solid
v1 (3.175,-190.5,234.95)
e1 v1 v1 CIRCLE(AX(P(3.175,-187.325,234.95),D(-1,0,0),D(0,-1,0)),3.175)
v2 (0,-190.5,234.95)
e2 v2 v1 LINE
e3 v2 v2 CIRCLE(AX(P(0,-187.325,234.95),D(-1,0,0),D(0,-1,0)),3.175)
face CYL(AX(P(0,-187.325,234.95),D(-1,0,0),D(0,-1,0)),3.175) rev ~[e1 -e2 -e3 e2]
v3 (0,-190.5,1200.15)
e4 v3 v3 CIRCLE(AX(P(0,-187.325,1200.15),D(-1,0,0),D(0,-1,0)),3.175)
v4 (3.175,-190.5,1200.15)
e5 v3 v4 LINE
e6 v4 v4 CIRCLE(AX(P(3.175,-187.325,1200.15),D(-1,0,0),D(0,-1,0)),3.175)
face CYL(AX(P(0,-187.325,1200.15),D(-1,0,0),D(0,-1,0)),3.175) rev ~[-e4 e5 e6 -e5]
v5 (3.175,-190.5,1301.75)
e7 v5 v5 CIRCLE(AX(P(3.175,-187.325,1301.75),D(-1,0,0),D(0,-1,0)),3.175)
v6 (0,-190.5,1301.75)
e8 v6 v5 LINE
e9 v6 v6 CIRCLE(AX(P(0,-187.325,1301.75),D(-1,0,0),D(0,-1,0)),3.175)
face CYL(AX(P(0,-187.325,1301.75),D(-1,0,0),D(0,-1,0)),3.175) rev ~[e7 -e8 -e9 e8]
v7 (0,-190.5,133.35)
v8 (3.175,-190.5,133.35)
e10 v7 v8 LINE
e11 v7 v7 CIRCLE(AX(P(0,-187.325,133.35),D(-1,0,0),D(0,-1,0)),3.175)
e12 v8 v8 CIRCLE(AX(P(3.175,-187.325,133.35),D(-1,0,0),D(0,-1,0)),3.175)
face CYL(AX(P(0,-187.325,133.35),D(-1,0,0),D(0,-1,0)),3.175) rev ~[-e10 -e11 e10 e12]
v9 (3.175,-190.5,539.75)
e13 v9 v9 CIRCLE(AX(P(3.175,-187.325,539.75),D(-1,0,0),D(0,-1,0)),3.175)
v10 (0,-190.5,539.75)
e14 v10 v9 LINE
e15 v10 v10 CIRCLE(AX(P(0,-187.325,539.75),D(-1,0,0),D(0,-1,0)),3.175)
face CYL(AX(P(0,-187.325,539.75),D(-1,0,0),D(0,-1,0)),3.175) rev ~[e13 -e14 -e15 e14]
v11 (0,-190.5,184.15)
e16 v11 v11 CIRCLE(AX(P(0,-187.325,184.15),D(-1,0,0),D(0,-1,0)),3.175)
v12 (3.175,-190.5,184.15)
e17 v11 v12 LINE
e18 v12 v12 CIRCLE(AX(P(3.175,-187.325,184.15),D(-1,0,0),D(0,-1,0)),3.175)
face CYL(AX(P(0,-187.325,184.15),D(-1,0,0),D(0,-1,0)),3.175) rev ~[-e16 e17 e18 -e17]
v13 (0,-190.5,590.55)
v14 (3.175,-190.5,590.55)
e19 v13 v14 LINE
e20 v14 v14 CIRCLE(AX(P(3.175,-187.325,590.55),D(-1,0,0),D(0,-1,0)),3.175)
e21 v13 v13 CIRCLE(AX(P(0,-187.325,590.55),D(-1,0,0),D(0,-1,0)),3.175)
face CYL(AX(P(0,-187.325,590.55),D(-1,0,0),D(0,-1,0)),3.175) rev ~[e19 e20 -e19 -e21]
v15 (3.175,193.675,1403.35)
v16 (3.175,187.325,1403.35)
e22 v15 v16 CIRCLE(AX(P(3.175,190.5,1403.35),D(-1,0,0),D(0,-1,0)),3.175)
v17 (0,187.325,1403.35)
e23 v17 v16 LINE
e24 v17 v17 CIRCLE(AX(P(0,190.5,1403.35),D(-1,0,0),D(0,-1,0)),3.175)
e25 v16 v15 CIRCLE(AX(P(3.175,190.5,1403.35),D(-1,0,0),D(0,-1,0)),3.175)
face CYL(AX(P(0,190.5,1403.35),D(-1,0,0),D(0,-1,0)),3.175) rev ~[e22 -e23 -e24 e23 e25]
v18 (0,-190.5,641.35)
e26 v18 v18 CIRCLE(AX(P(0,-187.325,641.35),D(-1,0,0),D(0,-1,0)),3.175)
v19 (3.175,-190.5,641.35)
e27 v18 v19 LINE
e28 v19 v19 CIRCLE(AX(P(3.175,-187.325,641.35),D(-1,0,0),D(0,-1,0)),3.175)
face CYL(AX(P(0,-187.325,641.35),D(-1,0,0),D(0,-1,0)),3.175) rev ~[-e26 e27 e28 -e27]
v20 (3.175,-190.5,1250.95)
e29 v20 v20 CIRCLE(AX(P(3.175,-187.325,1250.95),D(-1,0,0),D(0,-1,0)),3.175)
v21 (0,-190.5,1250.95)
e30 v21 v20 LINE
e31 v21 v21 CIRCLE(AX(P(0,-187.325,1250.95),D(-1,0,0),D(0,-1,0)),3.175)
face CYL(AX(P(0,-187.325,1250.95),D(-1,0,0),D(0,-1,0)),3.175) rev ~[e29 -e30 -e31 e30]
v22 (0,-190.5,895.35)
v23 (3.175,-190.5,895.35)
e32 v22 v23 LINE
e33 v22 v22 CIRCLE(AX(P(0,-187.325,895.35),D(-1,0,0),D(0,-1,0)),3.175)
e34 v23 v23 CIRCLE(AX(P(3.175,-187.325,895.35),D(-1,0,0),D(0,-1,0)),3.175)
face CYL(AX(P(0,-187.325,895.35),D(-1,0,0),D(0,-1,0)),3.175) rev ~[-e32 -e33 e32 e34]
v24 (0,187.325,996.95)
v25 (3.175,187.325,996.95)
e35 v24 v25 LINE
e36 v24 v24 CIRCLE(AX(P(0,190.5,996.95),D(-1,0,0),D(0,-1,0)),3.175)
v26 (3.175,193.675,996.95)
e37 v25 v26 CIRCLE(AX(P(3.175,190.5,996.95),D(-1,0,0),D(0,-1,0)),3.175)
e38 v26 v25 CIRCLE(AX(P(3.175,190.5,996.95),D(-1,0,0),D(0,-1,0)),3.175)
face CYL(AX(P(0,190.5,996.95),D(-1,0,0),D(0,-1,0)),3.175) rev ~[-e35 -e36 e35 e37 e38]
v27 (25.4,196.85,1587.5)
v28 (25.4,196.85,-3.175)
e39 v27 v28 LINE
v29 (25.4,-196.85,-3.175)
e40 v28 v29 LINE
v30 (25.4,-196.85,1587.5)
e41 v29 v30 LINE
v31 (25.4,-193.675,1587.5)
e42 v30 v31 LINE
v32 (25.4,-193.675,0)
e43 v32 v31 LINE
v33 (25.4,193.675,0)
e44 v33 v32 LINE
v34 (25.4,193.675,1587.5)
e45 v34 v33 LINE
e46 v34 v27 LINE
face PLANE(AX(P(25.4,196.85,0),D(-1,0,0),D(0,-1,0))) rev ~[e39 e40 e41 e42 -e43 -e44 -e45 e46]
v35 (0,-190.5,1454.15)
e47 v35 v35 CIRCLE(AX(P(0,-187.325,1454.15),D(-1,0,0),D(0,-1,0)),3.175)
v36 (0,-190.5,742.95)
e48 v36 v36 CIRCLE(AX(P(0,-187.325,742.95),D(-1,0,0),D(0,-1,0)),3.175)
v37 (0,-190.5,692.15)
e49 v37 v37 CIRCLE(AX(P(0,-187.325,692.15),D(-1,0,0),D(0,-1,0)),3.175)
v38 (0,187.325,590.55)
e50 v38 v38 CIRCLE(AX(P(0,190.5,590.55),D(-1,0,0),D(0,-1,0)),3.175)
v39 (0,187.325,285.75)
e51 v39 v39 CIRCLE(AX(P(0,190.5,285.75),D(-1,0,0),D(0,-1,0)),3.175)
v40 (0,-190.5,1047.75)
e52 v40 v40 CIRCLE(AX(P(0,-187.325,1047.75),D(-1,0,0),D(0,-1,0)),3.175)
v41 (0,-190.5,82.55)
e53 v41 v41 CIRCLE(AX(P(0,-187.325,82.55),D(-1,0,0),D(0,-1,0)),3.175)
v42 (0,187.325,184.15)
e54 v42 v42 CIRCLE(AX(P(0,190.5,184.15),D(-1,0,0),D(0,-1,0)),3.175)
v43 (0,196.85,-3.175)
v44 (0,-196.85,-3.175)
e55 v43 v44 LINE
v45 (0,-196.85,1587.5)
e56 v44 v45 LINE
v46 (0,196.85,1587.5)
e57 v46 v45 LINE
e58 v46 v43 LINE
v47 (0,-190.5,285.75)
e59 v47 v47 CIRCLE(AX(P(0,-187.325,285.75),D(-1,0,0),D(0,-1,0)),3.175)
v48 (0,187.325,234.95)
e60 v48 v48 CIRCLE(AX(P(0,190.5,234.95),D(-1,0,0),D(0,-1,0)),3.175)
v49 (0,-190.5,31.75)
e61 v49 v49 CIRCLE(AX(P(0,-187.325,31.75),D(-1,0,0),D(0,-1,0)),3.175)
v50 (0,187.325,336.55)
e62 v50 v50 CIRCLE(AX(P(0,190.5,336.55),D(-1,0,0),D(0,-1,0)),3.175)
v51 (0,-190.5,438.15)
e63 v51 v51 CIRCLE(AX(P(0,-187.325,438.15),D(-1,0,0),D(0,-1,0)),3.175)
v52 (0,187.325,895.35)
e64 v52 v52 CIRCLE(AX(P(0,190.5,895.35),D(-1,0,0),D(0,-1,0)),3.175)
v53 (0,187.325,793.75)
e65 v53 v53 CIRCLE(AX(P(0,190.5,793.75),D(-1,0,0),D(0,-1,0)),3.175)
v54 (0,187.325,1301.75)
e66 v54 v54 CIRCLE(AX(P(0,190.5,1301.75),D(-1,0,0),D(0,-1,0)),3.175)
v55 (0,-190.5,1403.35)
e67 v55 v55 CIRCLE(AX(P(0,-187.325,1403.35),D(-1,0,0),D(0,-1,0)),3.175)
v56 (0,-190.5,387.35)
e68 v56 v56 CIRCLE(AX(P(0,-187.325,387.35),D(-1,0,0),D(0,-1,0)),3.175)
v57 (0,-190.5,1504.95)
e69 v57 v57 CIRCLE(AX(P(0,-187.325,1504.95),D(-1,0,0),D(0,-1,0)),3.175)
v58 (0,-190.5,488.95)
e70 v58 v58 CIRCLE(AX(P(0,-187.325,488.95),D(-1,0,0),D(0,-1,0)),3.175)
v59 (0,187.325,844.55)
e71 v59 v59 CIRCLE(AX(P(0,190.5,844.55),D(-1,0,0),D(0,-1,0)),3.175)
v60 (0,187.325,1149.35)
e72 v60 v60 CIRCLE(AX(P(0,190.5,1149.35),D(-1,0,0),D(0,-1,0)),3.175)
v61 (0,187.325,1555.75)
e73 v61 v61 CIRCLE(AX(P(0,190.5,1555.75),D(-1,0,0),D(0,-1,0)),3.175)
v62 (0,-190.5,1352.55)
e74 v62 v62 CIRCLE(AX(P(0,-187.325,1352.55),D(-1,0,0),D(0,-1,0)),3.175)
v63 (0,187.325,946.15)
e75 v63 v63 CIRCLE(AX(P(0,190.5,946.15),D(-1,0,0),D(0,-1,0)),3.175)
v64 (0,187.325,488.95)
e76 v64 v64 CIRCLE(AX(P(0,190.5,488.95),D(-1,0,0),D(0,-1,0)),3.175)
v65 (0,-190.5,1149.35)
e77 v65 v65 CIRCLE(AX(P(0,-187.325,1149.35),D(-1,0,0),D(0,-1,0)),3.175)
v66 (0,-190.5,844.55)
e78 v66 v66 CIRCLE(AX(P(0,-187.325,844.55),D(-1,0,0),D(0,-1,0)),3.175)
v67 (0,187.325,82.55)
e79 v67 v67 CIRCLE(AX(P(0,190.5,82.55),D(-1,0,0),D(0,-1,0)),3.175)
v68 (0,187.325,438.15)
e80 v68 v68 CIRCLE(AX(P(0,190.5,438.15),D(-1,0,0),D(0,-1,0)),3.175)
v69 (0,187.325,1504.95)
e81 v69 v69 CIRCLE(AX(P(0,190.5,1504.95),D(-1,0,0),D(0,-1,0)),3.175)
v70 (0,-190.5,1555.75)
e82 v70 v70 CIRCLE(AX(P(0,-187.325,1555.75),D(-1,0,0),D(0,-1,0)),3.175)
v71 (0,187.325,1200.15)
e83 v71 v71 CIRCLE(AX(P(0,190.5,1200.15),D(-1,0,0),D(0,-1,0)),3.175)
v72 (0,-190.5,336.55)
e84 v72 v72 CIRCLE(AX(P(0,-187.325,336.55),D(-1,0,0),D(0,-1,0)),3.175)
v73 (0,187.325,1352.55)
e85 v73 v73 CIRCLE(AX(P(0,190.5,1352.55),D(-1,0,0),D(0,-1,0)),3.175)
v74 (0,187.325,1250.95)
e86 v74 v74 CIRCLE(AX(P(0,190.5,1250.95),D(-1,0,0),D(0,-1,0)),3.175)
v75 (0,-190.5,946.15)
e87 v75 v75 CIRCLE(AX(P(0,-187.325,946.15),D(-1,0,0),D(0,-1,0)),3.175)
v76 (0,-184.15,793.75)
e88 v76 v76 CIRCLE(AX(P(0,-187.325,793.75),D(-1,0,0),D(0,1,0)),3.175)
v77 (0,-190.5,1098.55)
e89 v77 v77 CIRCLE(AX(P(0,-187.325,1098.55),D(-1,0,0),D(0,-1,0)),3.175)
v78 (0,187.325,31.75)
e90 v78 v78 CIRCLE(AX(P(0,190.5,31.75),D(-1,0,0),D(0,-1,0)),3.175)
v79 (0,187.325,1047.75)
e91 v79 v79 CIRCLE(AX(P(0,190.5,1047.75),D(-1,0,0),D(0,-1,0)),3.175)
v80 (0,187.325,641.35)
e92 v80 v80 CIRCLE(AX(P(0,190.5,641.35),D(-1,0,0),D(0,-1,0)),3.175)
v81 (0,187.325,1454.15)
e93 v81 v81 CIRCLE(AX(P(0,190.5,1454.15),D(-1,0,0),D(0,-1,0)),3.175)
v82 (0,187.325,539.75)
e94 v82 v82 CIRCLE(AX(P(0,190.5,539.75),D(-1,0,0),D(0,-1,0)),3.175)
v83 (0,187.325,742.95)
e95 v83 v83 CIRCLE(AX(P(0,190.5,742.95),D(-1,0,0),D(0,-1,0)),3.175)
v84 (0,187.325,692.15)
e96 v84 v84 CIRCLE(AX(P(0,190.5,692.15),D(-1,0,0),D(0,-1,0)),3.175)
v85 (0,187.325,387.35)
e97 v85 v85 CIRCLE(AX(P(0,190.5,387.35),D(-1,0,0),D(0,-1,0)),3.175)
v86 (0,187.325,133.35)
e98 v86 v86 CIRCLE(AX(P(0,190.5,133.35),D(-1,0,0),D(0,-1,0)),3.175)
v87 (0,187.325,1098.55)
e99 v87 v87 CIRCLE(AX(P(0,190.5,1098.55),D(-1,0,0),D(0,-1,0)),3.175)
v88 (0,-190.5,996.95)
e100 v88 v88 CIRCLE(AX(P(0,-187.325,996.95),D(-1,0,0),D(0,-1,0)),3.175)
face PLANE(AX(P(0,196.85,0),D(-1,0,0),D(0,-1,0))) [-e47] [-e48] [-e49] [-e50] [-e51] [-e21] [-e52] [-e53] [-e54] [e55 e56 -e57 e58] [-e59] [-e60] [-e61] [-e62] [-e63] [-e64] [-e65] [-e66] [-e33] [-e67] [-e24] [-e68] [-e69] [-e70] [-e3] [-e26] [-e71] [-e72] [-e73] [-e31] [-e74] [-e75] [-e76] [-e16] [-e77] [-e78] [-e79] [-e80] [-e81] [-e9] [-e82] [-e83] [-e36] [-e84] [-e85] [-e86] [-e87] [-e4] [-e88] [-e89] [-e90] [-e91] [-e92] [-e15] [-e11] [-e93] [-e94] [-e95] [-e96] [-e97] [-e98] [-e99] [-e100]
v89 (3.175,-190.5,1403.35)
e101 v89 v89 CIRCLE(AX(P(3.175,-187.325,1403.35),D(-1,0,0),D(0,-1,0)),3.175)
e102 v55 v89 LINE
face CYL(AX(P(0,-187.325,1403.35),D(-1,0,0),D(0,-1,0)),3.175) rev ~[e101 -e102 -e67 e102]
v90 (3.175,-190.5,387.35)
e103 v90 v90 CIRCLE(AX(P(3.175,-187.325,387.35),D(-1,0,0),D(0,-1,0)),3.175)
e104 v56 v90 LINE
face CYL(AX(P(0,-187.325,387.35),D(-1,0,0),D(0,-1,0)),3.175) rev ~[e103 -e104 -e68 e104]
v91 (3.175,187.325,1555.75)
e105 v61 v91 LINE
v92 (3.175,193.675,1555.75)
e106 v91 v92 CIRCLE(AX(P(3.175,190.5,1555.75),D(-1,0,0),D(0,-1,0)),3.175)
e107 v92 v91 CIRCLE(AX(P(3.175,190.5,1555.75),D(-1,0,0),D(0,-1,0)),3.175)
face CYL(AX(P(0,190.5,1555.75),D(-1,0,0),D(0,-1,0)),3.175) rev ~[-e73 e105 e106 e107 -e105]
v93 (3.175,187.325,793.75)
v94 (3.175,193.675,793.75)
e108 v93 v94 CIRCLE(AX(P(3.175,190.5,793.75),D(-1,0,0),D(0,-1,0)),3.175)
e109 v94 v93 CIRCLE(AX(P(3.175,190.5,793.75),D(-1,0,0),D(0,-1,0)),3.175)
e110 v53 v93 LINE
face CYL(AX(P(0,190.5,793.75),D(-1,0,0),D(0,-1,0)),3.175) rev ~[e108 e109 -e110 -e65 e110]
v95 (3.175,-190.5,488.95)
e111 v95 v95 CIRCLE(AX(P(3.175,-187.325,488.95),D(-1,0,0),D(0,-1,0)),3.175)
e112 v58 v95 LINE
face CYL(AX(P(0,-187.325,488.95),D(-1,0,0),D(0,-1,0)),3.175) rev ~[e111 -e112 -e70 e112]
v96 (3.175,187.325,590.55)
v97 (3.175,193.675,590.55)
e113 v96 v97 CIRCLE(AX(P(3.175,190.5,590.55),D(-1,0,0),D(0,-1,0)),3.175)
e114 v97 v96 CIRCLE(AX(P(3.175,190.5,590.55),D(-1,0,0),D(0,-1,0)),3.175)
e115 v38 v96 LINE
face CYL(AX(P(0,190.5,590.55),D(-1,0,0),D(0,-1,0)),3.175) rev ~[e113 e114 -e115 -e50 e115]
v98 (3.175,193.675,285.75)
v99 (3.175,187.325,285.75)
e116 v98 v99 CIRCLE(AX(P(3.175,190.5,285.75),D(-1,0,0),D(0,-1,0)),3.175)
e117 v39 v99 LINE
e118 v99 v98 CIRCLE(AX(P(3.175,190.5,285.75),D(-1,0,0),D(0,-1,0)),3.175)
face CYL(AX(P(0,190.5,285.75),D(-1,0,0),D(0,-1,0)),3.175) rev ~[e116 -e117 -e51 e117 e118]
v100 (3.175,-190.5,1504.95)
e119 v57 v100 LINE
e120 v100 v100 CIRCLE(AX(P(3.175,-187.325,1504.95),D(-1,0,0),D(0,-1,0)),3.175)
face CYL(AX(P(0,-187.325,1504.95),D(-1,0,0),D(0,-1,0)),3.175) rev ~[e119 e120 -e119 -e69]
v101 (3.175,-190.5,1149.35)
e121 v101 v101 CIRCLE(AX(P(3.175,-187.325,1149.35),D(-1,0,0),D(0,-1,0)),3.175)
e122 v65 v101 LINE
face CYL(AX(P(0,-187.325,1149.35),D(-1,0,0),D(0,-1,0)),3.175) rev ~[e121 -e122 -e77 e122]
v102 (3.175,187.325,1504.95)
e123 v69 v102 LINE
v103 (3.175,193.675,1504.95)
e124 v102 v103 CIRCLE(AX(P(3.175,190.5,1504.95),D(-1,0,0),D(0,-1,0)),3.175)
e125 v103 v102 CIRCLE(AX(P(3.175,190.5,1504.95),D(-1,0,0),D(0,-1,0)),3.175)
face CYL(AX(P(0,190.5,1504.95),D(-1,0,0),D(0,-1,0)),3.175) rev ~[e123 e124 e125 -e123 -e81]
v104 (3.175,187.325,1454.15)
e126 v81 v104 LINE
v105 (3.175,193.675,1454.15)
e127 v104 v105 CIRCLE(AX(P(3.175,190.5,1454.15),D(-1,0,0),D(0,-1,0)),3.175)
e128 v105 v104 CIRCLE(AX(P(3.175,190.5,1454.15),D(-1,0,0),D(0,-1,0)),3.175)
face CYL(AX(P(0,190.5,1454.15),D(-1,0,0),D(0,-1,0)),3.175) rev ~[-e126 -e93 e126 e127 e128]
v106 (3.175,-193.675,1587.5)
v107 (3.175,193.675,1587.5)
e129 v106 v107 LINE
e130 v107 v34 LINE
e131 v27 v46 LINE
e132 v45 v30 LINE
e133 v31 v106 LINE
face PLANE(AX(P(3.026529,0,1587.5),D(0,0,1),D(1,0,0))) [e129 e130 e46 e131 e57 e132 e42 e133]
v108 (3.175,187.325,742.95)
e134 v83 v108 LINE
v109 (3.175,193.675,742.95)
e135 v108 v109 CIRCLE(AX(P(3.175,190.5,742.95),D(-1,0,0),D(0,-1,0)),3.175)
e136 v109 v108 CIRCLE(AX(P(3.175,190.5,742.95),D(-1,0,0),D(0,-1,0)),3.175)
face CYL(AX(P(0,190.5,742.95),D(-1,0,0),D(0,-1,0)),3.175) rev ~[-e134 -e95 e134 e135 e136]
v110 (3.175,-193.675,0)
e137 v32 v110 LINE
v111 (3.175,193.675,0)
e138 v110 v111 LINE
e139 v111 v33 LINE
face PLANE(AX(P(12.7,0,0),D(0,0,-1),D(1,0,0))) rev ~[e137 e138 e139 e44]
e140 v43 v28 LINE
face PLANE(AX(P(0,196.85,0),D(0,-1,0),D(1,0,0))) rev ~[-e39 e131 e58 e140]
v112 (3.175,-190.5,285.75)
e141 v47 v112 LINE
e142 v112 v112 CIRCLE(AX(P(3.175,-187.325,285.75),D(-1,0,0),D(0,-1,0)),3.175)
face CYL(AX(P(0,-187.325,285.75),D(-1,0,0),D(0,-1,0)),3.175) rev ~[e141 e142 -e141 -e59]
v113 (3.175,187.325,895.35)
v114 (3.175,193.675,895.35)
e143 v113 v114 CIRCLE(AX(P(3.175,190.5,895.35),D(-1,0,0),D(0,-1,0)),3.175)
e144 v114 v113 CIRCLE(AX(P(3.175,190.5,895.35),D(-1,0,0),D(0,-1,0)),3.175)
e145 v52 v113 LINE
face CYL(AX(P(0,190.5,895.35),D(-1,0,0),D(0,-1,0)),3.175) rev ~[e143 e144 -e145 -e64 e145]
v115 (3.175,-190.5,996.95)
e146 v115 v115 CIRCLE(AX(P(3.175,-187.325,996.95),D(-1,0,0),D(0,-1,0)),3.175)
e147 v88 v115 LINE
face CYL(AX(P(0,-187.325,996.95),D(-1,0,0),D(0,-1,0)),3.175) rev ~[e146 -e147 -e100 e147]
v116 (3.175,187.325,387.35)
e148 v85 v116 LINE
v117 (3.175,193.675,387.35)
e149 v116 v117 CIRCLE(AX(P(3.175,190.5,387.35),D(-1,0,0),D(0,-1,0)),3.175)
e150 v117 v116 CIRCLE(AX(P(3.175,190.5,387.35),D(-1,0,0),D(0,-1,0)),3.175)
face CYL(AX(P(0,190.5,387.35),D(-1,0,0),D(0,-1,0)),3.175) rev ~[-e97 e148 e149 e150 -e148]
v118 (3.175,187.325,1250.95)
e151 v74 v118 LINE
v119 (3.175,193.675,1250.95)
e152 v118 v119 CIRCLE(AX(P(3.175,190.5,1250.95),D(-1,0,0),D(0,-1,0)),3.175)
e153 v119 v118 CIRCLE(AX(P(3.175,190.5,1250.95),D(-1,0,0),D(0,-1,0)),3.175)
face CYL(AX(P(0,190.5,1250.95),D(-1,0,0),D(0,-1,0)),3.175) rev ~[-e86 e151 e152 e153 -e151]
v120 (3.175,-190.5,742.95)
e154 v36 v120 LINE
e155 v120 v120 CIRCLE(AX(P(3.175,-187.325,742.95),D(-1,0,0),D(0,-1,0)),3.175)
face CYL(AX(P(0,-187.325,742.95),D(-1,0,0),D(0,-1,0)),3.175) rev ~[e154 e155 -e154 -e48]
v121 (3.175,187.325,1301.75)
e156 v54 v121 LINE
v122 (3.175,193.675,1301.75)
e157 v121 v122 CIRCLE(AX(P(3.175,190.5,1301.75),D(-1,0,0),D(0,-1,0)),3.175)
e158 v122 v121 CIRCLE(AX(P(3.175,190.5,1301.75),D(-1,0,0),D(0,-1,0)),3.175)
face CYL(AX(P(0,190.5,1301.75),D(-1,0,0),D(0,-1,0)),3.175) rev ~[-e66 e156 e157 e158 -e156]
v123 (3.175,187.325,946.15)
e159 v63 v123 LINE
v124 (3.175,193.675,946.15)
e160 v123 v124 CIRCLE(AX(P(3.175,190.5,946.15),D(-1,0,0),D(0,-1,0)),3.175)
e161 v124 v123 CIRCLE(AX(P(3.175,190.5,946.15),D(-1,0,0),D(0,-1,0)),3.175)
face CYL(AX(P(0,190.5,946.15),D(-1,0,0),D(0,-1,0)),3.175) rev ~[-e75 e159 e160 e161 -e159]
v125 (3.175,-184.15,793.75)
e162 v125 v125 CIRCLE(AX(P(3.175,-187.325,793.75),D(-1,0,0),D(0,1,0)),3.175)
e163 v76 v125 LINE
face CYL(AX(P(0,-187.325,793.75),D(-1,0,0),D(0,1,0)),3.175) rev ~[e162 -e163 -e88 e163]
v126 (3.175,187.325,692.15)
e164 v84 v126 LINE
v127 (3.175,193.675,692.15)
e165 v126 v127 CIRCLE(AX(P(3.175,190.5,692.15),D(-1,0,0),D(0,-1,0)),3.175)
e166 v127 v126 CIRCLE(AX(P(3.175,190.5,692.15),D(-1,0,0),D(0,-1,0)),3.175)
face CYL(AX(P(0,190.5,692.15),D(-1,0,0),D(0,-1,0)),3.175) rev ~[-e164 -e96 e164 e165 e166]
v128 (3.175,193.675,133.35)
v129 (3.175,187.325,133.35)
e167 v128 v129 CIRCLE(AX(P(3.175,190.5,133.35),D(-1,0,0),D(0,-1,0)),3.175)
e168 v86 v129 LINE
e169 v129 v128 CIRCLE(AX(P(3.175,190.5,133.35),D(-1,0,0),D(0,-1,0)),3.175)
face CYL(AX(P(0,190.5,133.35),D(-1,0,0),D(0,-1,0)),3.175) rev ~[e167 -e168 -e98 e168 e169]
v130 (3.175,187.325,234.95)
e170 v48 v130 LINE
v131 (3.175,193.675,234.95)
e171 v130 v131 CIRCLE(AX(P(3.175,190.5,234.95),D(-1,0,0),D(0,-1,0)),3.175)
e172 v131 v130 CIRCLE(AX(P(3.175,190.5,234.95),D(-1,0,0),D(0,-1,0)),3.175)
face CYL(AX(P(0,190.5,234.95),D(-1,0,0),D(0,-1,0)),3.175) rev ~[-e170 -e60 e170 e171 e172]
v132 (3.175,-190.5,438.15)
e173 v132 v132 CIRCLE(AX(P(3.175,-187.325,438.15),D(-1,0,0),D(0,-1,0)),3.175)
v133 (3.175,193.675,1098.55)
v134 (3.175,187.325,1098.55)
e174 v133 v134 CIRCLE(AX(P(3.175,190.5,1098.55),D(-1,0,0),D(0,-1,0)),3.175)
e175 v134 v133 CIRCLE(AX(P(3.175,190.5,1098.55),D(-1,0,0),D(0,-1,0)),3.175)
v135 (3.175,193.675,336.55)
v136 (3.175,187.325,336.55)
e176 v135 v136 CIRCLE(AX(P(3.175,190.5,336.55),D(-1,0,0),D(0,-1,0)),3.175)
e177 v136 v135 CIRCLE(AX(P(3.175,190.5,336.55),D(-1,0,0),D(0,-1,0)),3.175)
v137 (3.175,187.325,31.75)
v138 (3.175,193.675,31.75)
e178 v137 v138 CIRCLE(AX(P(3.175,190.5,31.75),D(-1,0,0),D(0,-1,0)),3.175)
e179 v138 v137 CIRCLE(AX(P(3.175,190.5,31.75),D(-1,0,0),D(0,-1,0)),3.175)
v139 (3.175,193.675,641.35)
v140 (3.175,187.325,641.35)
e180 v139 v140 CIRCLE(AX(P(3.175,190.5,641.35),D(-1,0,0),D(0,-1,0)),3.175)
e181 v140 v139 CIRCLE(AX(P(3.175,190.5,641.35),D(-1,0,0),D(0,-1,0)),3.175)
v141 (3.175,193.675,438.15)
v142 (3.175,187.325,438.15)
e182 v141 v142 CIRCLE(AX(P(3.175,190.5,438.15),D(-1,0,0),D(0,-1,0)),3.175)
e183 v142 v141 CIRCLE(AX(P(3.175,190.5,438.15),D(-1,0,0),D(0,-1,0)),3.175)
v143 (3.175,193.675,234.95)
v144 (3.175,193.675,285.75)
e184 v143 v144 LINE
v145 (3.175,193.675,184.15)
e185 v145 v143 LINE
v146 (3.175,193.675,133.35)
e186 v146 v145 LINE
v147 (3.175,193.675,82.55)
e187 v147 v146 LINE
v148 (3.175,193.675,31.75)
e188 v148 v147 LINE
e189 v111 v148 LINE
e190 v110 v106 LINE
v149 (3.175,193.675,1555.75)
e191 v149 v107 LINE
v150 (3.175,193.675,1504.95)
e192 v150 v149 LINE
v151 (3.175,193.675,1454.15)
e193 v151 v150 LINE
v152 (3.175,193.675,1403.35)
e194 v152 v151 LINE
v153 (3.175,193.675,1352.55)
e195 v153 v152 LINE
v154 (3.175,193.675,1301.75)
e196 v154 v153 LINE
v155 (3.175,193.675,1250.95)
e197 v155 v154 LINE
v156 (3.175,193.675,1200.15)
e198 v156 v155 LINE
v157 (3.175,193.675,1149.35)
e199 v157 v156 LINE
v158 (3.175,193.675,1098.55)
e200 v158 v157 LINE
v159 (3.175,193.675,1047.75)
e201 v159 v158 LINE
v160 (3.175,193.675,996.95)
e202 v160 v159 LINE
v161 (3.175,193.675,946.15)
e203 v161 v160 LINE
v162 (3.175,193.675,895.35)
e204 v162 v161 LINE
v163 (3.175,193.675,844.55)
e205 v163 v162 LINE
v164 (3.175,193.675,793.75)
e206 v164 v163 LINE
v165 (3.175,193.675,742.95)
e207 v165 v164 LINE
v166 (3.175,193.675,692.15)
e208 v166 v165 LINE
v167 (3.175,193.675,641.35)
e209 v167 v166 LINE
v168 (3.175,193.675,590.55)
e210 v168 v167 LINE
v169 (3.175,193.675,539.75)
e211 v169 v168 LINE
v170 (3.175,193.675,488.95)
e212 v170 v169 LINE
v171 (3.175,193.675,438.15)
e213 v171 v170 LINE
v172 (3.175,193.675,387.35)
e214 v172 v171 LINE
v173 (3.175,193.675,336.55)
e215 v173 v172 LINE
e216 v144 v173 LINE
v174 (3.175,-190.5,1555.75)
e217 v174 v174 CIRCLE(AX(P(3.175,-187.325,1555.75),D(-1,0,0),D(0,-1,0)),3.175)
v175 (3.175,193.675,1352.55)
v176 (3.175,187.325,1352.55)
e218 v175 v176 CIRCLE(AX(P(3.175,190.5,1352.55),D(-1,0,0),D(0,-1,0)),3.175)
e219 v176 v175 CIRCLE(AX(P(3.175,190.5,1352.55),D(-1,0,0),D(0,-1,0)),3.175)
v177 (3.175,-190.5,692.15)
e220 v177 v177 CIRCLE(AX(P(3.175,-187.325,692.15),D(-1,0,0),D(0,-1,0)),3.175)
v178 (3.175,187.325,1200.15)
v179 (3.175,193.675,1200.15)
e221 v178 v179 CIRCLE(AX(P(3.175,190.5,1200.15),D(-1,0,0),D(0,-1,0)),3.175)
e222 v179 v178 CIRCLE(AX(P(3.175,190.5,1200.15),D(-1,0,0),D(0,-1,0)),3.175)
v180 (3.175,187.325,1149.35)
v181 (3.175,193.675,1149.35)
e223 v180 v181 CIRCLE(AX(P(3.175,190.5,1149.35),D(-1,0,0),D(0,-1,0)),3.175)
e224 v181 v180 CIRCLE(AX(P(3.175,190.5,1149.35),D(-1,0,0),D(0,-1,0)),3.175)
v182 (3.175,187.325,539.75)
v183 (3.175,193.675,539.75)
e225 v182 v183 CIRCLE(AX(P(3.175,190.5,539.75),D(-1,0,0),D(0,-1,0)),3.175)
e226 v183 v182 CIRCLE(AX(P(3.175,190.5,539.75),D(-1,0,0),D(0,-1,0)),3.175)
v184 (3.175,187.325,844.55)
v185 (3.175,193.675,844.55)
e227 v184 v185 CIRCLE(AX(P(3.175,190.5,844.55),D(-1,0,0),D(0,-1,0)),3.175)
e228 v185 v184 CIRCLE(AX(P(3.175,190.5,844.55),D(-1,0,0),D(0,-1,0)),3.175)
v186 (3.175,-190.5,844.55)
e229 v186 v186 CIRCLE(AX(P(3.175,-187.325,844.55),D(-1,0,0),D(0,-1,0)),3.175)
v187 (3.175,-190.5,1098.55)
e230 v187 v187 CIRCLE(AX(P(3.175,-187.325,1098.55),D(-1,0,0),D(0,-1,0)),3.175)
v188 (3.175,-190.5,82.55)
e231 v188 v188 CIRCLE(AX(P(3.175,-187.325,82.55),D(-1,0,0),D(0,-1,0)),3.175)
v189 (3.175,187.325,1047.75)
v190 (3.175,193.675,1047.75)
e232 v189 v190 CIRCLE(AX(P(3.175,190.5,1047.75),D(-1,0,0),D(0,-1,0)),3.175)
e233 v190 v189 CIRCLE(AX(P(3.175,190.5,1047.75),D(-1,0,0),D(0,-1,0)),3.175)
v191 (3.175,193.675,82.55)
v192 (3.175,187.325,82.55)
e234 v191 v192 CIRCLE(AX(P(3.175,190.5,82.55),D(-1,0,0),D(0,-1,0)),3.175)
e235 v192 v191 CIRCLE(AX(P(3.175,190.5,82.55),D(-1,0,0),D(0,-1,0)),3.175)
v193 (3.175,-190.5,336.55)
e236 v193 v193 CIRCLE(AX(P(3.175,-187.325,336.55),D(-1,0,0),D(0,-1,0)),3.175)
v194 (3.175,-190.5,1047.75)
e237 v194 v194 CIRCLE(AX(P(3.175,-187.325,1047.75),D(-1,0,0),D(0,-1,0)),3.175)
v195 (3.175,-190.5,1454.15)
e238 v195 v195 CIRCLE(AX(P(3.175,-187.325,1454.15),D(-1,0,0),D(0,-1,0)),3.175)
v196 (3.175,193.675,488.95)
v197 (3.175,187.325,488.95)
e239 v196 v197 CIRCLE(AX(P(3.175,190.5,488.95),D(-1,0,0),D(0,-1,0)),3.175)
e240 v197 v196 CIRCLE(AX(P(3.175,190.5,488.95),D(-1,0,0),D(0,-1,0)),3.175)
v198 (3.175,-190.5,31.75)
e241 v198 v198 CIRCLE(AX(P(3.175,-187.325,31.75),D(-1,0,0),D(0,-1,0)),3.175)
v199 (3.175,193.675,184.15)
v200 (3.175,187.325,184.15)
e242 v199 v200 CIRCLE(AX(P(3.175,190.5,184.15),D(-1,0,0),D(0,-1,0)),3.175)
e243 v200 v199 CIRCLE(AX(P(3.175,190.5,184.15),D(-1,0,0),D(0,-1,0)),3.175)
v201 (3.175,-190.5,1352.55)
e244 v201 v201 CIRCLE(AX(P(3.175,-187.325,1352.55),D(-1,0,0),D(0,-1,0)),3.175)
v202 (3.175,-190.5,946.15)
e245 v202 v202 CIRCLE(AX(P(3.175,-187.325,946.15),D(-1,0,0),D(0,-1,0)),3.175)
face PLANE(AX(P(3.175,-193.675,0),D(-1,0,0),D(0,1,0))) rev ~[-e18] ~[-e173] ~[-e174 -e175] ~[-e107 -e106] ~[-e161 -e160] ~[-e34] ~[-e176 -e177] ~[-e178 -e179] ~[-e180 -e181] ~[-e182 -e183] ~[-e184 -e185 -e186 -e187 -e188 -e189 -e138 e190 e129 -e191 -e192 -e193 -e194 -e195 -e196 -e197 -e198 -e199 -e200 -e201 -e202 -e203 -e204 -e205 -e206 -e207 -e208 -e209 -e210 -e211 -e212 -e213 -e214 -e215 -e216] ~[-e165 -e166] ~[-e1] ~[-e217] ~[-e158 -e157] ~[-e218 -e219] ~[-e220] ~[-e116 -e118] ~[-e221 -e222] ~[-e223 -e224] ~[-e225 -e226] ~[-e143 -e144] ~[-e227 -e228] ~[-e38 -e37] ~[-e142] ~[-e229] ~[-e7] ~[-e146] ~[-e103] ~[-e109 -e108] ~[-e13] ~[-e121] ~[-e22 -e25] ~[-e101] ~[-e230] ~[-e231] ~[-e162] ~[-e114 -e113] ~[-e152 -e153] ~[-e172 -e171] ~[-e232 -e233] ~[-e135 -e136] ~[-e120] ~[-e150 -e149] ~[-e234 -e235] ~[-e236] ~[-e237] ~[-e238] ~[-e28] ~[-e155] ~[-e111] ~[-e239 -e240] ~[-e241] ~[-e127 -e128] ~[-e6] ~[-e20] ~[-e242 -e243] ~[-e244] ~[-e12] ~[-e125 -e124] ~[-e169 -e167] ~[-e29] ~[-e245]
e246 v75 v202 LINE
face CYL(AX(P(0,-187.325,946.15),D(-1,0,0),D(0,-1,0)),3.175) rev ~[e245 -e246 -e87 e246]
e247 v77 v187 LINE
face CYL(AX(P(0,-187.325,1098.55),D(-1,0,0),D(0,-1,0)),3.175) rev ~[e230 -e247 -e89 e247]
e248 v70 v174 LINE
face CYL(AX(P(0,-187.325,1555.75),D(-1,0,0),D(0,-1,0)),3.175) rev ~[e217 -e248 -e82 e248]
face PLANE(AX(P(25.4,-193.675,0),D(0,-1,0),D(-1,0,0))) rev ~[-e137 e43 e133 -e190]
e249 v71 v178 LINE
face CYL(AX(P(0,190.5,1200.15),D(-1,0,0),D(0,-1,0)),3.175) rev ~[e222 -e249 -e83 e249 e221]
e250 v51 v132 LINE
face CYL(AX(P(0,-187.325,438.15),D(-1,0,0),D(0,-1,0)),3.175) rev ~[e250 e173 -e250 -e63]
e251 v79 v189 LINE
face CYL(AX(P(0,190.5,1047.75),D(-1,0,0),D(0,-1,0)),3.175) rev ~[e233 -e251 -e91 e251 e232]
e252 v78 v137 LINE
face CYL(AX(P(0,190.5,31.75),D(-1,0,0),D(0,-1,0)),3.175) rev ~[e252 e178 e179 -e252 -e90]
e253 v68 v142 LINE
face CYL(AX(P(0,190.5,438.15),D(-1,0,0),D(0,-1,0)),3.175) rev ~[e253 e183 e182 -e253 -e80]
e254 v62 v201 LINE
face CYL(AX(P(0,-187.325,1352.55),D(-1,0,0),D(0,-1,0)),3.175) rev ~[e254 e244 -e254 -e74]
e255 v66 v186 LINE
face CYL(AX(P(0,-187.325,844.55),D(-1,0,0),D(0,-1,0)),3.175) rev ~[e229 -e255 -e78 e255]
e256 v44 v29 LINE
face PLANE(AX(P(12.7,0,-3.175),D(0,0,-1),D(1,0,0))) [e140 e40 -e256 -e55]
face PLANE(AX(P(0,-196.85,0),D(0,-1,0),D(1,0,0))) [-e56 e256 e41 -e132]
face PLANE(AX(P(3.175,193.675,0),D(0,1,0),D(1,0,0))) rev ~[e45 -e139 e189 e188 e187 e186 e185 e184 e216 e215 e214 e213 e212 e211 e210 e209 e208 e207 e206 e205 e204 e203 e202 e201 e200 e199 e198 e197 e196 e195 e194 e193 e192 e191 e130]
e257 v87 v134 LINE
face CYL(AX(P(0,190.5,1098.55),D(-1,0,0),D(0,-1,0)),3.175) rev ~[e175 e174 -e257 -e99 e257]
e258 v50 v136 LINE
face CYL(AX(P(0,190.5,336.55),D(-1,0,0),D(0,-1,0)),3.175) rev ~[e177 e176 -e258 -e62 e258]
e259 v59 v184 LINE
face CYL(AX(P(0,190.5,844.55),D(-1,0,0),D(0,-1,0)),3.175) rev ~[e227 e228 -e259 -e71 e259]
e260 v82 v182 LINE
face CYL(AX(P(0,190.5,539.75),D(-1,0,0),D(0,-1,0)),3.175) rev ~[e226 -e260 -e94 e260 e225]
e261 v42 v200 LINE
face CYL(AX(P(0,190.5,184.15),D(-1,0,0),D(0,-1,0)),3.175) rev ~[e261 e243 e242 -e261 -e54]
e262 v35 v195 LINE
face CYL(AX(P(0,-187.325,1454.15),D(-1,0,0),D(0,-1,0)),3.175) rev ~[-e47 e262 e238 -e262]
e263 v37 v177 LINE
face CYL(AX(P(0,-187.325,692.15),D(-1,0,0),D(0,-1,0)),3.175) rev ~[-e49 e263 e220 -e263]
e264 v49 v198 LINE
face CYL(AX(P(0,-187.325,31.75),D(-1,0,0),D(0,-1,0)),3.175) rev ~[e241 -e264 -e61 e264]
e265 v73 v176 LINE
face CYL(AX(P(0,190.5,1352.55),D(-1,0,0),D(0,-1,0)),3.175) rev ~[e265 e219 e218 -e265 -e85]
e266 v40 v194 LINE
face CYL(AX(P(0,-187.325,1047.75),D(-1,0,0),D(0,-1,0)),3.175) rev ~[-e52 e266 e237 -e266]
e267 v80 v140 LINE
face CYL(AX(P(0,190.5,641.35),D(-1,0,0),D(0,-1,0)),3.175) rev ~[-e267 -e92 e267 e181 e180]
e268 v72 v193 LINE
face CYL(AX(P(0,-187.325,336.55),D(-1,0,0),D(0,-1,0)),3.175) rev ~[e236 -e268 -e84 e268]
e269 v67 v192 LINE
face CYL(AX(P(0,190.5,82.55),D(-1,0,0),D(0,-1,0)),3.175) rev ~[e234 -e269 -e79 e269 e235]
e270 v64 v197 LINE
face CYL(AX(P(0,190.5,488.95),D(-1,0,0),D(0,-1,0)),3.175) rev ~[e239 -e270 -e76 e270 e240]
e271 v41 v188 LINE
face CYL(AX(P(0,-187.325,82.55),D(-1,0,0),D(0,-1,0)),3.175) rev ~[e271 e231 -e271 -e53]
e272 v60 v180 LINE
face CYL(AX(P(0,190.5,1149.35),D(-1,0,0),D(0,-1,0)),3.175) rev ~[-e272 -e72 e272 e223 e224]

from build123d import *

# Parameters (mm, degrees)
F1_DEPTH = 1587.5
F2_R     = 3.175
F3_DEPTH = 25.401
F4_W     = 25.4
F4_H     = 393.7
F5_DEPTH = 3.175


with BuildPart() as f1:
    # F0 (on Top) → F1 (new body)
    with BuildSketch(Plane.XY):
        Polygon((25.4, 196.85), (0, 196.85), (0, -196.85), (25.4, -196.85), (25.4, -193.675), (3.175, -193.675), (3.175, 193.675), (25.4, 193.675), align=None)
    extrude(amount=F1_DEPTH)

    # F2 (on face) → F3 (cut, through all)
    with BuildSketch(Plane(origin=(0, 0, 0), x_dir=(0, -1, 0), z_dir=(-1, 0, 0))):
        with BuildLine():
            Line((184.15, 793.75), (190.5, 793.75))
            ThreePointArc((190.5, 793.75), (187.325, 796.925), (184.15, 793.75))
        make_face()
        with BuildLine():
            ThreePointArc((-193.675, 793.75), (-190.5, 790.575), (-187.325, 793.75))
            Line((-187.325, 793.75), (-193.675, 793.75))
        make_face()
        with BuildLine():
            Line((-193.675, 793.75), (-187.325, 793.75))
            ThreePointArc((-187.325, 793.75), (-190.5, 796.925), (-193.675, 793.75))
        make_face()
        with BuildLine():
            ThreePointArc((184.15, 793.75), (187.325, 790.575), (190.5, 793.75))
            Line((190.5, 793.75), (184.15, 793.75))
        make_face()
        with Locations((187.325, 844.55)):
            Circle(F2_R)
        with Locations((187.325, 895.35)):
            Circle(F2_R)
        with Locations((187.325, 946.15)):
            Circle(F2_R)
        with Locations((187.325, 996.95)):
            Circle(F2_R)
        with Locations((187.325, 1047.75)):
            Circle(F2_R)
        with Locations((187.325, 1098.55)):
            Circle(F2_R)
        with Locations((187.325, 1149.35)):
            Circle(F2_R)
        with Locations((187.325, 1200.15)):
            Circle(F2_R)
        with Locations((187.325, 1250.95)):
            Circle(F2_R)
        with Locations((187.325, 1301.75)):
            Circle(F2_R)
        with Locations((187.325, 1352.55)):
            Circle(F2_R)
        with Locations((187.325, 1403.35)):
            Circle(F2_R)
        with Locations((187.325, 1454.15)):
            Circle(F2_R)
        with Locations((187.325, 1504.95)):
            Circle(F2_R)
        with Locations((-190.5, 844.55)):
            Circle(F2_R)
        with Locations((-190.5, 895.35)):
            Circle(F2_R)
        with Locations((-190.5, 946.15)):
            Circle(F2_R)
        with Locations((-190.5, 996.95)):
            Circle(F2_R)
        with Locations((-190.5, 1047.75)):
            Circle(F2_R)
        with Locations((-190.5, 1098.55)):
            Circle(F2_R)
        with Locations((-190.5, 1149.35)):
            Circle(F2_R)
        with Locations((-190.5, 1200.15)):
            Circle(F2_R)
        with Locations((-190.5, 1250.95)):
            Circle(F2_R)
        with Locations((-190.5, 1301.75)):
            Circle(F2_R)
        with Locations((-190.5, 1352.55)):
            Circle(F2_R)
        with Locations((-190.5, 1403.35)):
            Circle(F2_R)
        with Locations((-190.5, 1454.15)):
            Circle(F2_R)
        with Locations((-190.5, 1504.95)):
            Circle(F2_R)
        with Locations((187.325, 742.95)):
            Circle(F2_R)
        with Locations((187.325, 692.15)):
            Circle(F2_R)
        with Locations((187.325, 641.35)):
            Circle(F2_R)
        with Locations((187.325, 590.55)):
            Circle(F2_R)
        with Locations((187.325, 539.75)):
            Circle(F2_R)
        with Locations((187.325, 488.95)):
            Circle(F2_R)
        with Locations((187.325, 438.15)):
            Circle(F2_R)
        with Locations((187.325, 387.35)):
            Circle(F2_R)
        with Locations((187.325, 336.55)):
            Circle(F2_R)
        with Locations((187.325, 285.75)):
            Circle(F2_R)
        with Locations((187.325, 234.95)):
            Circle(F2_R)
        with Locations((187.325, 184.15)):
            Circle(F2_R)
        with Locations((187.325, 133.35)):
            Circle(F2_R)
        with Locations((187.325, 82.55)):
            Circle(F2_R)
        with Locations((-190.5, 742.95)):
            Circle(F2_R)
        with Locations((-190.5, 692.15)):
            Circle(F2_R)
        with Locations((-190.5, 641.35)):
            Circle(F2_R)
        with Locations((-190.5, 590.55)):
            Circle(F2_R)
        with Locations((-190.5, 539.75)):
            Circle(F2_R)
        with Locations((-190.5, 488.95)):
            Circle(F2_R)
        with Locations((-190.5, 438.15)):
            Circle(F2_R)
        with Locations((-190.5, 387.35)):
            Circle(F2_R)
        with Locations((-190.5, 336.55)):
            Circle(F2_R)
        with Locations((-190.5, 285.75)):
            Circle(F2_R)
        with Locations((-190.5, 234.95)):
            Circle(F2_R)
        with Locations((-190.5, 184.15)):
            Circle(F2_R)
        with Locations((-190.5, 133.35)):
            Circle(F2_R)
        with Locations((-190.5, 82.55)):
            Circle(F2_R)
        with Locations((187.325, 31.75)):
            Circle(F2_R)
        with Locations((-190.5, 31.75)):
            Circle(F2_R)
        with Locations((187.325, 1555.75)):
            Circle(F2_R)
        with Locations((-190.5, 1555.75)):
            Circle(F2_R)
    extrude(amount=-F3_DEPTH, mode=Mode.SUBTRACT)

    # F4 (on face) → F5 (join)
    with BuildSketch(Plane(origin=(0, 0, 0), x_dir=(1, 0, 0), z_dir=(0, 0, -1))):
        with Locations((12.7, 0)):
            Rectangle(F4_W, F4_H)
    extrude(amount=F5_DEPTH)


solid = f1.part
